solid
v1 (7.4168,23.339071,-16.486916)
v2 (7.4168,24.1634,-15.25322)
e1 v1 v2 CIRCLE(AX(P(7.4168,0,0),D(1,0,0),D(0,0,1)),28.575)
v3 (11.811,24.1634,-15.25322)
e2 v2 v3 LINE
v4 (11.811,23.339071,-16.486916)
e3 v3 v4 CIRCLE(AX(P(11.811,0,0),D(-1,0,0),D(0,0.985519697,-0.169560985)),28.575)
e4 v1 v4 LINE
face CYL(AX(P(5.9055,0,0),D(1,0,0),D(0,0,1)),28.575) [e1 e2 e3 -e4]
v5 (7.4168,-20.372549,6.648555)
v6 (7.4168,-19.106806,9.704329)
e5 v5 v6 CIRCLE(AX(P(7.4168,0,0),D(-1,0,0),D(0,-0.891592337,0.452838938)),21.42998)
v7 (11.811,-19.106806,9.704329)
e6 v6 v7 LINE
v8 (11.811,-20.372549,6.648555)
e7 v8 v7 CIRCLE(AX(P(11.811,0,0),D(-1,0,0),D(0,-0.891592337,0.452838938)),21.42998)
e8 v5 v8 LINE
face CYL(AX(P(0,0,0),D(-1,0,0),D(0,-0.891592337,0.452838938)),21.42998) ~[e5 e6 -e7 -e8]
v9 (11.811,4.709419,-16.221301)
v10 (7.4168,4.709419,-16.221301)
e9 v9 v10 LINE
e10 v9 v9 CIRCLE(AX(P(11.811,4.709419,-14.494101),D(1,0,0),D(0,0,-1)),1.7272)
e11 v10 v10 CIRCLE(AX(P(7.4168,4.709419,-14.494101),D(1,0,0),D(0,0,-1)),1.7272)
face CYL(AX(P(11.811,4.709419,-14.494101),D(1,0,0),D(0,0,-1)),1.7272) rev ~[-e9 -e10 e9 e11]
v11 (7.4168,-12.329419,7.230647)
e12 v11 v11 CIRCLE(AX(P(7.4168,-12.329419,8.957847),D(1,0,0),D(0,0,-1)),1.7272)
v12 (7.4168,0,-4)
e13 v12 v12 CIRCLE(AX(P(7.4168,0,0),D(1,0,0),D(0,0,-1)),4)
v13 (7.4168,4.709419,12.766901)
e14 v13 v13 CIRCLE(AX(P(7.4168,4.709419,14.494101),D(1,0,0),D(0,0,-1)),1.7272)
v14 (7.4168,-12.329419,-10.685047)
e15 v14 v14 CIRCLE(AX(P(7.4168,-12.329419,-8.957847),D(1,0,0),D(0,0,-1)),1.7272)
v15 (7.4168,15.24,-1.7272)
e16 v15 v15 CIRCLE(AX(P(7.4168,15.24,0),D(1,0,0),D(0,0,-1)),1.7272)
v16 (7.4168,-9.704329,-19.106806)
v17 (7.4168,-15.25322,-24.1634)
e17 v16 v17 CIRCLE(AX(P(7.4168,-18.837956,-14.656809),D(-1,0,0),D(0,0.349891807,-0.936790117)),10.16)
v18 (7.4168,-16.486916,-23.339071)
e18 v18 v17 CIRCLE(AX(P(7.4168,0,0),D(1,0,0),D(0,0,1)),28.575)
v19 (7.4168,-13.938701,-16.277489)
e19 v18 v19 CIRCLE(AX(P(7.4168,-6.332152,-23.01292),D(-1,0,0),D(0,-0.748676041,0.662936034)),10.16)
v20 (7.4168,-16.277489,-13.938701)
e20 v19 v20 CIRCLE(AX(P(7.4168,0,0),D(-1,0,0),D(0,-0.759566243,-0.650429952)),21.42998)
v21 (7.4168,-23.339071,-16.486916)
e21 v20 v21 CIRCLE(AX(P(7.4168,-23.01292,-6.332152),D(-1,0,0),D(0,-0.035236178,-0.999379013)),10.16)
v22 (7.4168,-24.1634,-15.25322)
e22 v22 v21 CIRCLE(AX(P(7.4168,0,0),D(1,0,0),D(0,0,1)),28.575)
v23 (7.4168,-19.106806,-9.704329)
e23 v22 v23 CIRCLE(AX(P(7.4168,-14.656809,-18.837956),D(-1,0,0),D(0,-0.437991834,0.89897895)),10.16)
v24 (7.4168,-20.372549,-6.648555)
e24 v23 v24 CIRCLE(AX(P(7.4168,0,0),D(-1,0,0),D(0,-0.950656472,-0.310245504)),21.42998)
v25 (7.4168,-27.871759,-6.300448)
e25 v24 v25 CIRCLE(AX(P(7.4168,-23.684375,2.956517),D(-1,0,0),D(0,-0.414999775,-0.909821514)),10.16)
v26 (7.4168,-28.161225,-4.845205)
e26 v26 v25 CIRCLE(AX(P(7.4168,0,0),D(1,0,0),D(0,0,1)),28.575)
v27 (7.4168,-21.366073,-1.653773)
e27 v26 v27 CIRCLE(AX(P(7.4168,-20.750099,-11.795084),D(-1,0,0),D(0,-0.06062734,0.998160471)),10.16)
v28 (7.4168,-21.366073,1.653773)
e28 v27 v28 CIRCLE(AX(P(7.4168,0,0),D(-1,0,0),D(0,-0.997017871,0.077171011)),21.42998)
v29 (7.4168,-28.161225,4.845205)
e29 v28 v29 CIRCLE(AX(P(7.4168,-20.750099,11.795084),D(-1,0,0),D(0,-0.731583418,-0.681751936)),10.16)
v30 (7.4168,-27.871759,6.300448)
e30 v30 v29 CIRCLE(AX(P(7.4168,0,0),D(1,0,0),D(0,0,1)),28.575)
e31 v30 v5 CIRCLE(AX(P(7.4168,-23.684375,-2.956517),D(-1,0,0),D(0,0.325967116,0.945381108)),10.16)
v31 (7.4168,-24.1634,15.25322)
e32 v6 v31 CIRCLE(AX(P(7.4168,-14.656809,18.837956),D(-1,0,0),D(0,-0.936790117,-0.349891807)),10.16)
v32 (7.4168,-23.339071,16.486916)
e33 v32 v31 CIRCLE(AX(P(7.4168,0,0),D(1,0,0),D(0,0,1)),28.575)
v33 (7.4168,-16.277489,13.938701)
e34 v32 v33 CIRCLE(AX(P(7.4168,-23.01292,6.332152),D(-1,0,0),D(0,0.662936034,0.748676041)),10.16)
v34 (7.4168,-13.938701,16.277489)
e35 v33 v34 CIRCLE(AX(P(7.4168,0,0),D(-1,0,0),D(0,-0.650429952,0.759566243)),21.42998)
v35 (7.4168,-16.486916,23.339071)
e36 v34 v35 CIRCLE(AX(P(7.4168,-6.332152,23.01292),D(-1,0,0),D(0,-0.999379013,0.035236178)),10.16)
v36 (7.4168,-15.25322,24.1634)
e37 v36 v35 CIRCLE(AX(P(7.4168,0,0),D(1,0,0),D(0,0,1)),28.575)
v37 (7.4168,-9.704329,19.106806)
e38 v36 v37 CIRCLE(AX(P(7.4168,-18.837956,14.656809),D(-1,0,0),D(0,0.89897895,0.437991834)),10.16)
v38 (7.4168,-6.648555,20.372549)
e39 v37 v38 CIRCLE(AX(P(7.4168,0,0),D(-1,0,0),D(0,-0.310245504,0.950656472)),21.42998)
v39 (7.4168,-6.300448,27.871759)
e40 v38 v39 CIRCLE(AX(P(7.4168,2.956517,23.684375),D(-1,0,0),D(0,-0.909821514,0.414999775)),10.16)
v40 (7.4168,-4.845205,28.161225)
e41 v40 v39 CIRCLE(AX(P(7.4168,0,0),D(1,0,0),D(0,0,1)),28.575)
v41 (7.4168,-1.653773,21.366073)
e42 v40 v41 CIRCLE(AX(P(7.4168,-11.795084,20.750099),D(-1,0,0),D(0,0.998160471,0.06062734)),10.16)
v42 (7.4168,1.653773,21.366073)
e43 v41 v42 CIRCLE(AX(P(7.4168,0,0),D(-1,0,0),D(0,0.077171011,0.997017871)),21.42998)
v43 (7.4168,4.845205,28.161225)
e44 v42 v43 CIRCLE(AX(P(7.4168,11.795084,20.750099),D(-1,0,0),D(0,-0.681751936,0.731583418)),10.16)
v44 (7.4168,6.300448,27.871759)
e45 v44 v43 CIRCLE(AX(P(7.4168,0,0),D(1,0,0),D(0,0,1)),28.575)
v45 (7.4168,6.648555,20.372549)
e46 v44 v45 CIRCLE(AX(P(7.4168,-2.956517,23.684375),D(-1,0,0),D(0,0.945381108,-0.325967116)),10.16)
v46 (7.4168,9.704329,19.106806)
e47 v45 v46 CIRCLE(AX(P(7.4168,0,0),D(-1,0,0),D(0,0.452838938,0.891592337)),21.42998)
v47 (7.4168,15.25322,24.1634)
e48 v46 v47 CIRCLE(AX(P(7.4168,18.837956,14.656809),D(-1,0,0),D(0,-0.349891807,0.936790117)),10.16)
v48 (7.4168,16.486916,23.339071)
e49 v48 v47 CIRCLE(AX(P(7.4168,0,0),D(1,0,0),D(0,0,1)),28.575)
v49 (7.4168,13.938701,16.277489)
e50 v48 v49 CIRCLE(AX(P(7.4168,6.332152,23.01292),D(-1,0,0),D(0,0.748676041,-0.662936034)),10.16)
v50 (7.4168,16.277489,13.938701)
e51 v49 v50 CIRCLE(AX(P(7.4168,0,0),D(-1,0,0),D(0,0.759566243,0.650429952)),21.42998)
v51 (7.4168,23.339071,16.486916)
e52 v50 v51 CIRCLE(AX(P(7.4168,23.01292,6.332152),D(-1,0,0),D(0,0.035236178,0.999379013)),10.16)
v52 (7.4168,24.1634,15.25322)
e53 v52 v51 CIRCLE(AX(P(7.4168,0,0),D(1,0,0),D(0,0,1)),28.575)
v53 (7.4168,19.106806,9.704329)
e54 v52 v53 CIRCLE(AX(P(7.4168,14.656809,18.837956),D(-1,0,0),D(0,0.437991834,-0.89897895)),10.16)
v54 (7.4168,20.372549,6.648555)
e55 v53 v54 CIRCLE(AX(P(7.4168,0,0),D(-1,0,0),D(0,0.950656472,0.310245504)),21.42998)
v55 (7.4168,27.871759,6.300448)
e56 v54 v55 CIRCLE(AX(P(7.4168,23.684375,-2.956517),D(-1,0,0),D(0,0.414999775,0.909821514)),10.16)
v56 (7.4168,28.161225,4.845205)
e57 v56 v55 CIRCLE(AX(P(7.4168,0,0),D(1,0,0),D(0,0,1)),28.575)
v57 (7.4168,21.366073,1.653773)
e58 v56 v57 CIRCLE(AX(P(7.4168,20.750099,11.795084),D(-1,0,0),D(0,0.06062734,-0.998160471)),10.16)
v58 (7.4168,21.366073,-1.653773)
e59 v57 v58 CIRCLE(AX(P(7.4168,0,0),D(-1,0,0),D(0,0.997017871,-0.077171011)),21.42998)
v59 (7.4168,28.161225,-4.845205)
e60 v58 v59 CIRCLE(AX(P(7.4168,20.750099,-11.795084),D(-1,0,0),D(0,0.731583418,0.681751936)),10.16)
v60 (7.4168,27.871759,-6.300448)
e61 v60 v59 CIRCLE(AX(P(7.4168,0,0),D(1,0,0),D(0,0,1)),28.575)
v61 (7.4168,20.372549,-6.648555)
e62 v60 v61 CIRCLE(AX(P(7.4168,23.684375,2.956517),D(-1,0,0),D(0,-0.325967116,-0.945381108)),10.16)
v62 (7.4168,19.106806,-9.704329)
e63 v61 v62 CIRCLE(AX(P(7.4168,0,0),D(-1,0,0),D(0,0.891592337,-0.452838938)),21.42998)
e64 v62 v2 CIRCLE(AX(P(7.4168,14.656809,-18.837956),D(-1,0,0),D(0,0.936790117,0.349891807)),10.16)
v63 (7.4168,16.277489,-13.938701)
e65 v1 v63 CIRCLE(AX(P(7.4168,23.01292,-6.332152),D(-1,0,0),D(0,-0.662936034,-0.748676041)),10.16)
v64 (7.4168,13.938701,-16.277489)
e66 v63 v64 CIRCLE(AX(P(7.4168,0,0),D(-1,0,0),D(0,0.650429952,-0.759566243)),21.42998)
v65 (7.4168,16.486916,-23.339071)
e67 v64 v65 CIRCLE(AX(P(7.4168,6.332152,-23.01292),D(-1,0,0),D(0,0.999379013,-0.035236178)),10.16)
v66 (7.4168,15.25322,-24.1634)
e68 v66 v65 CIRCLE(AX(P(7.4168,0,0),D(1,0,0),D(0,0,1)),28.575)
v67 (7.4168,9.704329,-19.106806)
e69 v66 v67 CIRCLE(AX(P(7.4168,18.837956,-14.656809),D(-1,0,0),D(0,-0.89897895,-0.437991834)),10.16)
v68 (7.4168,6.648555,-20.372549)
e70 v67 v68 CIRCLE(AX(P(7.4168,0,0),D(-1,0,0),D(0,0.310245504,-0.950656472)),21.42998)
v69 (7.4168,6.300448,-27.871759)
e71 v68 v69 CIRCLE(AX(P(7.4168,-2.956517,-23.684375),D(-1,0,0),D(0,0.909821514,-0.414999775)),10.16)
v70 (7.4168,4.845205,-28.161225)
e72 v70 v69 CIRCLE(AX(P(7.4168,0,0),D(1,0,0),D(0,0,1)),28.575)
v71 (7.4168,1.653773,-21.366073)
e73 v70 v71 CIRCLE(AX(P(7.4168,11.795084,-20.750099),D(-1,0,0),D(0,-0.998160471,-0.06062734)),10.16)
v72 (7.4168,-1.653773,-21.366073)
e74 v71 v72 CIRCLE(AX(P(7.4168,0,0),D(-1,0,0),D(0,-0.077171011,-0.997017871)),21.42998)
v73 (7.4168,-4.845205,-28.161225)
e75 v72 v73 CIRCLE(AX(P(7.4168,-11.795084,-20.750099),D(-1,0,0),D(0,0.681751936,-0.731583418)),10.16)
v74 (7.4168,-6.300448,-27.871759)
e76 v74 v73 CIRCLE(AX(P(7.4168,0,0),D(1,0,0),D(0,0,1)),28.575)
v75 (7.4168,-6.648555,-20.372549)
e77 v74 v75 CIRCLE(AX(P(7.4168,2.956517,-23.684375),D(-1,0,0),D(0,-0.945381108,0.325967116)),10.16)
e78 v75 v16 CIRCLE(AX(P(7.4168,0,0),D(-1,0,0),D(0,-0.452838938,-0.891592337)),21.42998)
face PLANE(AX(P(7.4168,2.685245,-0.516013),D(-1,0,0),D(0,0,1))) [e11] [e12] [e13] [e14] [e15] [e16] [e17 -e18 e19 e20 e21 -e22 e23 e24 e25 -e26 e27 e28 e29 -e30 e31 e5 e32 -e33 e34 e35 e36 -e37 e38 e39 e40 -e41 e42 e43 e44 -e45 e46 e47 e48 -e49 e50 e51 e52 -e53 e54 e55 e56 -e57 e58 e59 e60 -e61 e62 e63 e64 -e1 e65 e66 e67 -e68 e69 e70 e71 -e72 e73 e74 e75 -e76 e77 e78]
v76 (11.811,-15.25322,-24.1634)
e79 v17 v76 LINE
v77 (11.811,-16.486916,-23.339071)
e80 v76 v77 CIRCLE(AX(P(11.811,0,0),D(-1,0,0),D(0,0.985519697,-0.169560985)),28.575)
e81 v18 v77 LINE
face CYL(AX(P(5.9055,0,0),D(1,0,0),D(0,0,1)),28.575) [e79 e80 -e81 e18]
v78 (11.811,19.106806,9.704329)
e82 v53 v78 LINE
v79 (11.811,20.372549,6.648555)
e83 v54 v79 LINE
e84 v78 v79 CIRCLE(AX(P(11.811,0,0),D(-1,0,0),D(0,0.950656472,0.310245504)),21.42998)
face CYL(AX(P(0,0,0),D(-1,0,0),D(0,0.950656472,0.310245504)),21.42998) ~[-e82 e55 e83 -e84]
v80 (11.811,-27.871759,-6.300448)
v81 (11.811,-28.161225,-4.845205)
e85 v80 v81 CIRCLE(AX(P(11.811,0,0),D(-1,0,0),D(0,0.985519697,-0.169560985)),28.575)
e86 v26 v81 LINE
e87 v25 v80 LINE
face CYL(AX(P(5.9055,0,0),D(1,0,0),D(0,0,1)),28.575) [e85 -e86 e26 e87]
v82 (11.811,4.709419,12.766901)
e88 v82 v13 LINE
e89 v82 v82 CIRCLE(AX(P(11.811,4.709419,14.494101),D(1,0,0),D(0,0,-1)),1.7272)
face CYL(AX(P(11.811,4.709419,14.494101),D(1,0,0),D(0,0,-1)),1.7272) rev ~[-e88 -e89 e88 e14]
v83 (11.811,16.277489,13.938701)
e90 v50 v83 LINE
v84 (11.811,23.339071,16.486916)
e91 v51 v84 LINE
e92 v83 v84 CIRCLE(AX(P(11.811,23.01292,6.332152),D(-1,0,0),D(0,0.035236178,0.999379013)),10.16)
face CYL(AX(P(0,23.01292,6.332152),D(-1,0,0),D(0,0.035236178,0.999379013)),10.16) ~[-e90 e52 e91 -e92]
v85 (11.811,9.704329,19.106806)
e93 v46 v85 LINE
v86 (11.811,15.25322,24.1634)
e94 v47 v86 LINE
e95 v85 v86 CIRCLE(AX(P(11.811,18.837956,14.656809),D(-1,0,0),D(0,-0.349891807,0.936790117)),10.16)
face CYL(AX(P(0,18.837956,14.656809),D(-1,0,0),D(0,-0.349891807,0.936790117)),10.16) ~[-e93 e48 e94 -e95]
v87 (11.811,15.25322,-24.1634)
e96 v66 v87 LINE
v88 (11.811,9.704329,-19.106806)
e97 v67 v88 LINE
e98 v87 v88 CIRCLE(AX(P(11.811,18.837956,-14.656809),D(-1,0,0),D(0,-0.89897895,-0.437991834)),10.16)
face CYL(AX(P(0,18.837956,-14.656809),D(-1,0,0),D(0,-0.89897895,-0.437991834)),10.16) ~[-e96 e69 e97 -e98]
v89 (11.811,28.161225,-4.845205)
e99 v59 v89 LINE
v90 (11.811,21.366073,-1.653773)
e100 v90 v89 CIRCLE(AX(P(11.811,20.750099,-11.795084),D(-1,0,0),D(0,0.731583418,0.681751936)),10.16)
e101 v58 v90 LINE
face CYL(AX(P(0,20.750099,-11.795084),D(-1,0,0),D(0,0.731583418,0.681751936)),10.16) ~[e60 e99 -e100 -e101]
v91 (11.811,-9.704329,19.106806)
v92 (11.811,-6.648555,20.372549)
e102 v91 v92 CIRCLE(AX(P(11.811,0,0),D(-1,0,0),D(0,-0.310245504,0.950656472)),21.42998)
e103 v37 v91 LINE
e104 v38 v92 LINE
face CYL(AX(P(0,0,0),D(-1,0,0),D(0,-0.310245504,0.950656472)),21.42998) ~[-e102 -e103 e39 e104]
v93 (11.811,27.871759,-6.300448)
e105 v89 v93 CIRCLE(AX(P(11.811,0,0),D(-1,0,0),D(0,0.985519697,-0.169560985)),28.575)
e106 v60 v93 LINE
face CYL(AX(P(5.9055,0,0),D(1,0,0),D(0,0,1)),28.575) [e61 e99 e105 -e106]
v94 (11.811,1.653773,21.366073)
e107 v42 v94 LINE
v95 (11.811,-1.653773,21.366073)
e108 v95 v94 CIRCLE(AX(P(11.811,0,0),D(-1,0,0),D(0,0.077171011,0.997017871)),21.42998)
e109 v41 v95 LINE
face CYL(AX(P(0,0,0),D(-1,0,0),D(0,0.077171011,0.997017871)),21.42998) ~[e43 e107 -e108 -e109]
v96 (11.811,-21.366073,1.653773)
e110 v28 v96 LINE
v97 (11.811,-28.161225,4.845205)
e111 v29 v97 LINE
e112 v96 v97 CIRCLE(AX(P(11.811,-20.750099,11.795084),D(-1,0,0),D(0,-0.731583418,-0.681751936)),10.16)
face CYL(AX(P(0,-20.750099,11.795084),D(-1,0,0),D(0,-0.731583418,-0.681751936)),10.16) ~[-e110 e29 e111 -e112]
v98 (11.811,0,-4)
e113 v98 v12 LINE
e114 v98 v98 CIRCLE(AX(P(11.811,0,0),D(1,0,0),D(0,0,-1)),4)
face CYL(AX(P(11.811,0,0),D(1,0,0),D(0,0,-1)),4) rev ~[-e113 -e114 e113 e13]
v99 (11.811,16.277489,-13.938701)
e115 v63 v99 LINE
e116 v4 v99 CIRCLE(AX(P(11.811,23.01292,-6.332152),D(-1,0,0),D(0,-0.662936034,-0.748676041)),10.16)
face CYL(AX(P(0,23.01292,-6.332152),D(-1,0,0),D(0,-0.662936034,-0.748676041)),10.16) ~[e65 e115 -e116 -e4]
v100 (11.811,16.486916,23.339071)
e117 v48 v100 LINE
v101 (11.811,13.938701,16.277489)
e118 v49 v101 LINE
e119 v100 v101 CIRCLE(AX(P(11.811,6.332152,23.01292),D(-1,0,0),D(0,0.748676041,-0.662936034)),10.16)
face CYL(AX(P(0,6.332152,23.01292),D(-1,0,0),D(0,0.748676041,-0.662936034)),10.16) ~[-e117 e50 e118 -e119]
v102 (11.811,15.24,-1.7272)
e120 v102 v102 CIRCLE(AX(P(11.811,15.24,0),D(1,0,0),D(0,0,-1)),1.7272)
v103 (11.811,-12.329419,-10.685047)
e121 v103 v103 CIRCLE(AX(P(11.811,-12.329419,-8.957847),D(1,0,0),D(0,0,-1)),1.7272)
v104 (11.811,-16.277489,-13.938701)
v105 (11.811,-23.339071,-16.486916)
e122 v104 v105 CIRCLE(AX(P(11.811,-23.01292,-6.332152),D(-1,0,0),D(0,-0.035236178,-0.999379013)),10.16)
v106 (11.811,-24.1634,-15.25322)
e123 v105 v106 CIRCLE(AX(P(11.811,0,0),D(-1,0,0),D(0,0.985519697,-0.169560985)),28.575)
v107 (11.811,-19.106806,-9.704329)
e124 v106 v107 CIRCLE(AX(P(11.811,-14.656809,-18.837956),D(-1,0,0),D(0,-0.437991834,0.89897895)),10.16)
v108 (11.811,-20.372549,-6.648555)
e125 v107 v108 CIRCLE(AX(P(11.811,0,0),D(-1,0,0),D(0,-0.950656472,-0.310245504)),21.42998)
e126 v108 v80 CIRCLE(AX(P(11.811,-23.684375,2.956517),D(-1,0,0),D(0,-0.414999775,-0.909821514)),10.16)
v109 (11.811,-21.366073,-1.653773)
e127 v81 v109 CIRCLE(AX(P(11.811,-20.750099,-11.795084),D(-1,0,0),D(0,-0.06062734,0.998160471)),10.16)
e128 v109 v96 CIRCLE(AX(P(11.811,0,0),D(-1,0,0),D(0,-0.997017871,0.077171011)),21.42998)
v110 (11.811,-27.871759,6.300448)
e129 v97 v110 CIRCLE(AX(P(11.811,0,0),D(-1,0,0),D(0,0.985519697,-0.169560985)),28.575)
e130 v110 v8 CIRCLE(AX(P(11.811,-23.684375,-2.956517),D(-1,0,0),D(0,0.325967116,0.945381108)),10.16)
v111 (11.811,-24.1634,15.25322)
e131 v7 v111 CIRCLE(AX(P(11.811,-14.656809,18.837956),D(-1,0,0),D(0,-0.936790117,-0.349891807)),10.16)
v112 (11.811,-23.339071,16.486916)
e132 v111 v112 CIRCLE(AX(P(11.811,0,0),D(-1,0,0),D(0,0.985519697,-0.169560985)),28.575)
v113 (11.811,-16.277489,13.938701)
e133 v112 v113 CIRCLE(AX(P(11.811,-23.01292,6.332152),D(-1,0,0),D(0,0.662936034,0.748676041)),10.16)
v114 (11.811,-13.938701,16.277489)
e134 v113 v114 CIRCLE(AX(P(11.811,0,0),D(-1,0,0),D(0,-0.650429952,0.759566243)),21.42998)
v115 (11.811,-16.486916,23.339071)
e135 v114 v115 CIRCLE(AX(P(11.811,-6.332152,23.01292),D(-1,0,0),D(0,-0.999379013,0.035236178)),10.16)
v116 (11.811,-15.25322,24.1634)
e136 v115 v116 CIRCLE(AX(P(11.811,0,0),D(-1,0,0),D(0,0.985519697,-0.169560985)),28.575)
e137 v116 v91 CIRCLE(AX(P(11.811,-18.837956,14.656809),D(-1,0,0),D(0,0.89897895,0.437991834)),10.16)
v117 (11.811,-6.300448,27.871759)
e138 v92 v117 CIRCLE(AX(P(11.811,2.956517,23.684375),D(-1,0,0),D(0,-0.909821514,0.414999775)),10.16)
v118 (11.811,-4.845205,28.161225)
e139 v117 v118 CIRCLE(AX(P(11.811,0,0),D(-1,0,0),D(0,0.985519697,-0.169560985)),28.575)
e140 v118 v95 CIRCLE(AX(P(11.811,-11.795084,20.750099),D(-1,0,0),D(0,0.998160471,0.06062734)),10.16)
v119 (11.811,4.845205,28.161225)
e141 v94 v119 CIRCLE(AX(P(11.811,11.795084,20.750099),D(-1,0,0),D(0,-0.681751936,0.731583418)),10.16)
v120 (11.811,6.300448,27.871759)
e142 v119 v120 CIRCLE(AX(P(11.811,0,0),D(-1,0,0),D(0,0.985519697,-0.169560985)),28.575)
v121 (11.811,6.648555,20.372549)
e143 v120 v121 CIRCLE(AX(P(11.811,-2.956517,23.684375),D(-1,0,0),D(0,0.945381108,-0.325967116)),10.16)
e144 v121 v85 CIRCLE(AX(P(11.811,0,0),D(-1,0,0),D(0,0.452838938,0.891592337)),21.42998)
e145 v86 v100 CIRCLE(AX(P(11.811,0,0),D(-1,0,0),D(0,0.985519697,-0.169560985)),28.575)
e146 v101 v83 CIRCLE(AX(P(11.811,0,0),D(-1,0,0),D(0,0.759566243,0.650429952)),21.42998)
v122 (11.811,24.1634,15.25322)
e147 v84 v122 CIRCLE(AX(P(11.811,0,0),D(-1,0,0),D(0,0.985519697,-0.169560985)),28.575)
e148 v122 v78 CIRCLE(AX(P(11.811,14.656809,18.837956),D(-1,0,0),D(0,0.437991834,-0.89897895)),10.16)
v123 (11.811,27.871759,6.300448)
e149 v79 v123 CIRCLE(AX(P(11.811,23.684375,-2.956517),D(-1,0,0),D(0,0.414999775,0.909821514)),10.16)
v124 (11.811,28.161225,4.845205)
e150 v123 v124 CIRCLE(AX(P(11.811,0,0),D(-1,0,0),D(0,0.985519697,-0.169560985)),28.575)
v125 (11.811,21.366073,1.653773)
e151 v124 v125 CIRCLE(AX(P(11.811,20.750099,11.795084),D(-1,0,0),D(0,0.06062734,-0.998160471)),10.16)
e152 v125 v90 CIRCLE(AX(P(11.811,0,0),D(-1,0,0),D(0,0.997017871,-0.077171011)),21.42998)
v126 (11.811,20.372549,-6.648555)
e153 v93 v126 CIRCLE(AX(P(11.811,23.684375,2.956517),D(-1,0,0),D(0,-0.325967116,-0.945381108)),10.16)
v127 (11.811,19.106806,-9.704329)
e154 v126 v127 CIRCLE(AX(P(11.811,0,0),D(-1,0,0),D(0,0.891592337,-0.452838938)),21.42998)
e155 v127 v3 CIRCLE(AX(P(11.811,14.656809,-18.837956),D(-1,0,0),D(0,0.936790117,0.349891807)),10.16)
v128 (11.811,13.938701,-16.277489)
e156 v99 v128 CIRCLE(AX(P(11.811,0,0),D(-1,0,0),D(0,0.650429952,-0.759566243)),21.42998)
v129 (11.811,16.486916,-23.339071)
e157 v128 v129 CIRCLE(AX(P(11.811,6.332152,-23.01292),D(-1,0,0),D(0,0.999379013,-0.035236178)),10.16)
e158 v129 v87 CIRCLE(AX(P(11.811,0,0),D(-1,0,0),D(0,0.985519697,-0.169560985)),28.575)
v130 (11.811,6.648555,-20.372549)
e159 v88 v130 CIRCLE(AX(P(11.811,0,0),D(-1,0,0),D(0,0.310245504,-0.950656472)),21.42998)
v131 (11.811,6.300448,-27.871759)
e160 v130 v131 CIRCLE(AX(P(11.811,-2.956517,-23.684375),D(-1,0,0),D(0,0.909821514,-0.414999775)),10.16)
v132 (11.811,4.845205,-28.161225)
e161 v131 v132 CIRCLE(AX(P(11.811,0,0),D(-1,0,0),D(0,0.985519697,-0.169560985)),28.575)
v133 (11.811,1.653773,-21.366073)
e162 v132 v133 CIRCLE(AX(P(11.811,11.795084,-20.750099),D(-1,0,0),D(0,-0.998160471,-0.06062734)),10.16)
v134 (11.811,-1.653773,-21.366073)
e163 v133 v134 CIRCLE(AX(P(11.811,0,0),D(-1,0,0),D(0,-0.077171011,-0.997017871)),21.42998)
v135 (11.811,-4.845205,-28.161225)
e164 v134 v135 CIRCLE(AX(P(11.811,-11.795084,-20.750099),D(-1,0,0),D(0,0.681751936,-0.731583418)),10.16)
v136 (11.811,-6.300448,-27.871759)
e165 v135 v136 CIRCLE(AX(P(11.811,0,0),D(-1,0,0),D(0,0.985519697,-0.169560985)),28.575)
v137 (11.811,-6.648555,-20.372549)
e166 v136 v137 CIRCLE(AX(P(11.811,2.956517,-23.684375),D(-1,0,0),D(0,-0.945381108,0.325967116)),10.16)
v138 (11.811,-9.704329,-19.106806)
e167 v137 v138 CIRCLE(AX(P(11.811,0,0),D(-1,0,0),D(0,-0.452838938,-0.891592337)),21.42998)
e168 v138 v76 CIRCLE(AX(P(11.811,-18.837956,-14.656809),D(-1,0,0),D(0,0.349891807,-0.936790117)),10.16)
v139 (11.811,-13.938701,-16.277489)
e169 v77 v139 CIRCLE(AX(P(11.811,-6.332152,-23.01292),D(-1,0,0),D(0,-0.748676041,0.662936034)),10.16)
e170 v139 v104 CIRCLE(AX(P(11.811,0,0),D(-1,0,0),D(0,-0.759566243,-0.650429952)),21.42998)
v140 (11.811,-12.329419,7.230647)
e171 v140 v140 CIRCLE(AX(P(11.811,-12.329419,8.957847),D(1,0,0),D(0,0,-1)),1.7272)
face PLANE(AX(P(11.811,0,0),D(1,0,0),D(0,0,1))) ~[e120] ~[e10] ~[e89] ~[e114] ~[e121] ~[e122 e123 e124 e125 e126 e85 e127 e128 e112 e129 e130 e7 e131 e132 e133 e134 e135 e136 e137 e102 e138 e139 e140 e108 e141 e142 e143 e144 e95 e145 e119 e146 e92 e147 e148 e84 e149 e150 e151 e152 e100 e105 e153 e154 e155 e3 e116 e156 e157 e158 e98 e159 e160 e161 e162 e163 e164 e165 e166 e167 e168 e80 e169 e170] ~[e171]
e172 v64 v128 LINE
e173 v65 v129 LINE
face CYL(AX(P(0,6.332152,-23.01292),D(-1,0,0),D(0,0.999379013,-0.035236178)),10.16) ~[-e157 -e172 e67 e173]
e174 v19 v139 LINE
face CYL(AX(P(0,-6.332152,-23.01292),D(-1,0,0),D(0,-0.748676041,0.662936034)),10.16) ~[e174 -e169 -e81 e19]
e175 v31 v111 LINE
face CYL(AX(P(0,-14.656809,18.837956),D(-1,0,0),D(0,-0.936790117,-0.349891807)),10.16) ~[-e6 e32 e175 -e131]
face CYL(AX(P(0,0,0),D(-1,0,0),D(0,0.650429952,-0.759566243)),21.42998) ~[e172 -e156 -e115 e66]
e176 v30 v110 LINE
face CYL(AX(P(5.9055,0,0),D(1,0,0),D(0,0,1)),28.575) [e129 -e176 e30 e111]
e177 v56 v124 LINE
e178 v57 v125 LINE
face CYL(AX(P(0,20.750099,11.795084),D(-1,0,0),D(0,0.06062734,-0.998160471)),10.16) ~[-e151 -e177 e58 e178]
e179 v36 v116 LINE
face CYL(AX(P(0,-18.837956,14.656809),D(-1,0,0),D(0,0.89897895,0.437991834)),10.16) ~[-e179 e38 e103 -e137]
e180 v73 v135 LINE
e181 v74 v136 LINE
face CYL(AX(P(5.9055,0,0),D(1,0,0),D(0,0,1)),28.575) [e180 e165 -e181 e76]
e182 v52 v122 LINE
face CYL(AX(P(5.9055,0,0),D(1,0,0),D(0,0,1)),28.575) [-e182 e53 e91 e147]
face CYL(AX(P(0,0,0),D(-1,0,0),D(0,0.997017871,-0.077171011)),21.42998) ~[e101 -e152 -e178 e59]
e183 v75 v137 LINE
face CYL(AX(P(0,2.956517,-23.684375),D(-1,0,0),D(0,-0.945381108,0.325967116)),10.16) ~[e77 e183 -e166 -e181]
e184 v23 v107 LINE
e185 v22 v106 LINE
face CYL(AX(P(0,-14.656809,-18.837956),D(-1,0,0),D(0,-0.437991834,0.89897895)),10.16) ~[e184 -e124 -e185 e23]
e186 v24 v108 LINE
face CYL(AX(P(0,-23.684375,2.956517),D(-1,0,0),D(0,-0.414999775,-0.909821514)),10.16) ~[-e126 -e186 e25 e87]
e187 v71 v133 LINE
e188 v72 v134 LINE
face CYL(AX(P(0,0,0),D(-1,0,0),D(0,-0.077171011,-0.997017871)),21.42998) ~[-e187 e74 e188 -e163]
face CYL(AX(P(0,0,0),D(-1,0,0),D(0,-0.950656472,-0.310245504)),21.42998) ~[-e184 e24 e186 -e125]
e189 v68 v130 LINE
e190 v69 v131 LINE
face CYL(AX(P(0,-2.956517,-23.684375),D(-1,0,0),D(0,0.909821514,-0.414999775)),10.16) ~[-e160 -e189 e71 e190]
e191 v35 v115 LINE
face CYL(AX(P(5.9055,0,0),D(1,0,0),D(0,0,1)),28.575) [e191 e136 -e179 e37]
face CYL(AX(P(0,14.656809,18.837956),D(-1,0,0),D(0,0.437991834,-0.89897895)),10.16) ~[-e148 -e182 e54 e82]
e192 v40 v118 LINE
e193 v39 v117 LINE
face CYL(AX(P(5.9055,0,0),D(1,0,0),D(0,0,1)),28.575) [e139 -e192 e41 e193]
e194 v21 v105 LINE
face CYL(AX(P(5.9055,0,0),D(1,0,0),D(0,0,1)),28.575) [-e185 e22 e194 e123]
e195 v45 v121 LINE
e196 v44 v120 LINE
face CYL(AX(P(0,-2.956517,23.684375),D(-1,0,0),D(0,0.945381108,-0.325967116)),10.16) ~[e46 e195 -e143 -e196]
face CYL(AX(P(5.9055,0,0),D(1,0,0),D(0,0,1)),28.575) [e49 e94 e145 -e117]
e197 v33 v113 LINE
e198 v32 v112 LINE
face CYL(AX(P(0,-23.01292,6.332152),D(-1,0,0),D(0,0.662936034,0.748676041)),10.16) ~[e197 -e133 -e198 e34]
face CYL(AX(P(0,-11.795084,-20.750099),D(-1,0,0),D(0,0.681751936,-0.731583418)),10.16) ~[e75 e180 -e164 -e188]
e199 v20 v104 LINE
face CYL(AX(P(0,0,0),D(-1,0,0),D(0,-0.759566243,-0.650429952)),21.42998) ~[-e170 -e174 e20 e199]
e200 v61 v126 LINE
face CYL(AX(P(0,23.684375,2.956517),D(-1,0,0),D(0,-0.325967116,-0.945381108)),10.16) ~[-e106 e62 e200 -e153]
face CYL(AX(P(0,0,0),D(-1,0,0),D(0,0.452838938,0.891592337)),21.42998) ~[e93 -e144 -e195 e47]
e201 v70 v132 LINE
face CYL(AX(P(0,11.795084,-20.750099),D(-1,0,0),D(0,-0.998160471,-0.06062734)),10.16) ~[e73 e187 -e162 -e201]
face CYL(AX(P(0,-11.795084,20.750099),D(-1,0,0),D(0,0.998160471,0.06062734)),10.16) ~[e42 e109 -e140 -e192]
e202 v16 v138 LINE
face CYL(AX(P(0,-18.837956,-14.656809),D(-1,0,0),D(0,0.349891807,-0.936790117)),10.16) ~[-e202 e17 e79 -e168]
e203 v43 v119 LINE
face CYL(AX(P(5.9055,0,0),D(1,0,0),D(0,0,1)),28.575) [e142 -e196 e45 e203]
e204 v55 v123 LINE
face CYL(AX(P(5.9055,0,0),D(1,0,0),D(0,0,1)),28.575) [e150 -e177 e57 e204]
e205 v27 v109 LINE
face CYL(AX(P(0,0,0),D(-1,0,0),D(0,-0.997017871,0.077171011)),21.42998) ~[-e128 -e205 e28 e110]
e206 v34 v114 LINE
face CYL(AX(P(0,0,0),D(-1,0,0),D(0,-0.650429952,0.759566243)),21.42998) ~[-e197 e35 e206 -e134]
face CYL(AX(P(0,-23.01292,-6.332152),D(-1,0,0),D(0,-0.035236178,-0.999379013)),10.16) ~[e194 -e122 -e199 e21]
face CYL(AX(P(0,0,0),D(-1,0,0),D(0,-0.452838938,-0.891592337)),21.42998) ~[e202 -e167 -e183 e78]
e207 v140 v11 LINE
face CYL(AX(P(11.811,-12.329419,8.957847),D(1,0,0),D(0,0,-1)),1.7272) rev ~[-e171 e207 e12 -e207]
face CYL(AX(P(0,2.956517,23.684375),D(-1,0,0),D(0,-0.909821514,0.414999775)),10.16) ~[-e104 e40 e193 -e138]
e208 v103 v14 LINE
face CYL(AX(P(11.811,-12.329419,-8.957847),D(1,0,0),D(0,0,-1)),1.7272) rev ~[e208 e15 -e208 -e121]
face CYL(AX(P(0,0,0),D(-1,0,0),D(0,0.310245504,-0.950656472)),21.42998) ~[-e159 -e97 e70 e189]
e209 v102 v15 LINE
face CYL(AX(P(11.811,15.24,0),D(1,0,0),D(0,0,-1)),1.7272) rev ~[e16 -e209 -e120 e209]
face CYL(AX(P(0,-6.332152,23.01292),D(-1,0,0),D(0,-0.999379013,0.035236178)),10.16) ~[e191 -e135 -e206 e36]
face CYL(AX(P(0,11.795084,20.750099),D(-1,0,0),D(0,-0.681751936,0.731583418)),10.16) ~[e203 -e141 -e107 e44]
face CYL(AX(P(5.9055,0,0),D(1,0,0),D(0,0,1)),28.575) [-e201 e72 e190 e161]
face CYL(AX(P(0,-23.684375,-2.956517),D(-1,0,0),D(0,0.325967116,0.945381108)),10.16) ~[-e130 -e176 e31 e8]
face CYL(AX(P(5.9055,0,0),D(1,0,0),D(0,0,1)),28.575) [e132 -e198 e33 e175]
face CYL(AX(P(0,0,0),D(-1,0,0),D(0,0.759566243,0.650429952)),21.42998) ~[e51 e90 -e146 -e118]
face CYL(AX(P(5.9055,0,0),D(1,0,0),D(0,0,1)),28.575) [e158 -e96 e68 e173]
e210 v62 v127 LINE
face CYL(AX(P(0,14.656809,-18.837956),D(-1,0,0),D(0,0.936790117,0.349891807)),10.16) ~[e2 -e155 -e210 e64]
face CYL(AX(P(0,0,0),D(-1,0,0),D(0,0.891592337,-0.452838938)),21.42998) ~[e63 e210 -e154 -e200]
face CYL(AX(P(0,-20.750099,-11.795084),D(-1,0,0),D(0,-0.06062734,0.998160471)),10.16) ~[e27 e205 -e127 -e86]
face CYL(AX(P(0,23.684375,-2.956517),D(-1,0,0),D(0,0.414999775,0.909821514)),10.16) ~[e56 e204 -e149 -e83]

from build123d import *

# Parameters (mm, degrees)
BASPROSKE_W        = 11.811
BASPROSKE_H        = 28.575
TOOTHCUT_DEPTH     = 43.101792967
TEETHCUTS_COUNT    = 16
TEETHCUTS_ANGLE    = 337.5
BORSKE_R           = 0.396875
BORE_DEPTH         = 50.8000508
SKETCH1_R          = 4
CUT_EXTRUDE1_DEPTH = 42.540449503
SKETCH2_R          = 1.7272
CUT_EXTRUDE2_DEPTH = 42.540449503
SKETCH3_W          = 75.062540623
SKETCH3_H          = 68.403246839
CUT_EXTRUDE3_DEPTH = 7.4168


with BuildPart() as part:
    # BasProSke → Base-Revolve (revolve)
    with BuildSketch(Plane(origin=(0, 0, 0), x_dir=(1, 0, 0), z_dir=(0, 1, 0)), mode=Mode.PRIVATE) as base_revolve_sk:
        with Locations((5.9055, 14.2875)):
            Rectangle(BASPROSKE_W, BASPROSKE_H)
    revolve(base_revolve_sk.sketch.rotate(Axis((-10, 0, 0), (1, 0, 0)), 180), axis=Axis((-10, 0, 0), (1, 0, 0)))

    # TooCutSke → ToothCut (cut, through all)
    with BuildSketch(Plane(origin=(0, 0, 0), x_dir=(0, 0, -1), z_dir=(1, 0, 0))):
        with BuildLine():
            ThreePointArc((1.653773222, 21.366073035), (0, 21.42998), (-1.653773222, 21.366073035))
            ThreePointArc((-1.653773222, 21.366073035), (-2.605634946, 25.083646688), (-4.868483936, 28.182986789))
            ThreePointArc((-4.868483936, 28.182986789), (0, 28.6004), (4.868483936, 28.182986789))
            ThreePointArc((4.868483936, 28.182986789), (2.605634946, 25.083646688), (1.653773222, 21.366073035))
        make_face()
    toothcut = extrude(amount=TOOTHCUT_DEPTH, mode=Mode.SUBTRACT)

    # TeethCuts: ToothCut ×16 about axis
    teethcuts_axis = Axis((-10, 0, 0), (1, 0, 0))
    for i in range(1, TEETHCUTS_COUNT):
        add(toothcut.rotate(teethcuts_axis, i * TEETHCUTS_ANGLE / (TEETHCUTS_COUNT - 1)), mode=Mode.SUBTRACT)

    # BorSke → Bore (cut, symmetric)
    with BuildSketch(Plane(origin=(0, 0, 0), x_dir=(0, 0, -1), z_dir=(1, 0, 0))):
        with Locations(Location((0, 0, 0), (0, 0, 180))):
            Circle(BORSKE_R)
    extrude(amount=BORE_DEPTH, both=True, mode=Mode.SUBTRACT)

    # Sketch1 → Cut-Extrude1 (cut, through all)
    with BuildSketch(Plane(origin=(11.811, 0, 0), x_dir=(0, 0, -1), z_dir=(1, 0, 0))):
        Circle(SKETCH1_R)
    extrude(amount=-CUT_EXTRUDE1_DEPTH, mode=Mode.SUBTRACT)

    # Sketch2 → Cut-Extrude2 (cut, through all)
    with BuildSketch(Plane(origin=(11.811, 0, 0), x_dir=(0, 0, -1), z_dir=(1, 0, 0))):
        with Locations((0, 15.24)):
            Circle(SKETCH2_R)
        with Locations((14.494101308, 4.709418994)):
            Circle(SKETCH2_R)
        with Locations((8.957847245, -12.329418994)):
            Circle(SKETCH2_R)
        with Locations((-8.957847245, -12.329418994)):
            Circle(SKETCH2_R)
        with Locations((-14.494101308, 4.709418994)):
            Circle(SKETCH2_R)
    extrude(amount=-CUT_EXTRUDE2_DEPTH, mode=Mode.SUBTRACT)

    # Sketch3 → Cut-Extrude3 (cut)
    with BuildSketch(Plane.ZY):
        with Locations((-0.516013304, 2.685244596)):
            Rectangle(SKETCH3_W, SKETCH3_H)
    extrude(amount=-CUT_EXTRUDE3_DEPTH, mode=Mode.SUBTRACT)


solid = part.part
